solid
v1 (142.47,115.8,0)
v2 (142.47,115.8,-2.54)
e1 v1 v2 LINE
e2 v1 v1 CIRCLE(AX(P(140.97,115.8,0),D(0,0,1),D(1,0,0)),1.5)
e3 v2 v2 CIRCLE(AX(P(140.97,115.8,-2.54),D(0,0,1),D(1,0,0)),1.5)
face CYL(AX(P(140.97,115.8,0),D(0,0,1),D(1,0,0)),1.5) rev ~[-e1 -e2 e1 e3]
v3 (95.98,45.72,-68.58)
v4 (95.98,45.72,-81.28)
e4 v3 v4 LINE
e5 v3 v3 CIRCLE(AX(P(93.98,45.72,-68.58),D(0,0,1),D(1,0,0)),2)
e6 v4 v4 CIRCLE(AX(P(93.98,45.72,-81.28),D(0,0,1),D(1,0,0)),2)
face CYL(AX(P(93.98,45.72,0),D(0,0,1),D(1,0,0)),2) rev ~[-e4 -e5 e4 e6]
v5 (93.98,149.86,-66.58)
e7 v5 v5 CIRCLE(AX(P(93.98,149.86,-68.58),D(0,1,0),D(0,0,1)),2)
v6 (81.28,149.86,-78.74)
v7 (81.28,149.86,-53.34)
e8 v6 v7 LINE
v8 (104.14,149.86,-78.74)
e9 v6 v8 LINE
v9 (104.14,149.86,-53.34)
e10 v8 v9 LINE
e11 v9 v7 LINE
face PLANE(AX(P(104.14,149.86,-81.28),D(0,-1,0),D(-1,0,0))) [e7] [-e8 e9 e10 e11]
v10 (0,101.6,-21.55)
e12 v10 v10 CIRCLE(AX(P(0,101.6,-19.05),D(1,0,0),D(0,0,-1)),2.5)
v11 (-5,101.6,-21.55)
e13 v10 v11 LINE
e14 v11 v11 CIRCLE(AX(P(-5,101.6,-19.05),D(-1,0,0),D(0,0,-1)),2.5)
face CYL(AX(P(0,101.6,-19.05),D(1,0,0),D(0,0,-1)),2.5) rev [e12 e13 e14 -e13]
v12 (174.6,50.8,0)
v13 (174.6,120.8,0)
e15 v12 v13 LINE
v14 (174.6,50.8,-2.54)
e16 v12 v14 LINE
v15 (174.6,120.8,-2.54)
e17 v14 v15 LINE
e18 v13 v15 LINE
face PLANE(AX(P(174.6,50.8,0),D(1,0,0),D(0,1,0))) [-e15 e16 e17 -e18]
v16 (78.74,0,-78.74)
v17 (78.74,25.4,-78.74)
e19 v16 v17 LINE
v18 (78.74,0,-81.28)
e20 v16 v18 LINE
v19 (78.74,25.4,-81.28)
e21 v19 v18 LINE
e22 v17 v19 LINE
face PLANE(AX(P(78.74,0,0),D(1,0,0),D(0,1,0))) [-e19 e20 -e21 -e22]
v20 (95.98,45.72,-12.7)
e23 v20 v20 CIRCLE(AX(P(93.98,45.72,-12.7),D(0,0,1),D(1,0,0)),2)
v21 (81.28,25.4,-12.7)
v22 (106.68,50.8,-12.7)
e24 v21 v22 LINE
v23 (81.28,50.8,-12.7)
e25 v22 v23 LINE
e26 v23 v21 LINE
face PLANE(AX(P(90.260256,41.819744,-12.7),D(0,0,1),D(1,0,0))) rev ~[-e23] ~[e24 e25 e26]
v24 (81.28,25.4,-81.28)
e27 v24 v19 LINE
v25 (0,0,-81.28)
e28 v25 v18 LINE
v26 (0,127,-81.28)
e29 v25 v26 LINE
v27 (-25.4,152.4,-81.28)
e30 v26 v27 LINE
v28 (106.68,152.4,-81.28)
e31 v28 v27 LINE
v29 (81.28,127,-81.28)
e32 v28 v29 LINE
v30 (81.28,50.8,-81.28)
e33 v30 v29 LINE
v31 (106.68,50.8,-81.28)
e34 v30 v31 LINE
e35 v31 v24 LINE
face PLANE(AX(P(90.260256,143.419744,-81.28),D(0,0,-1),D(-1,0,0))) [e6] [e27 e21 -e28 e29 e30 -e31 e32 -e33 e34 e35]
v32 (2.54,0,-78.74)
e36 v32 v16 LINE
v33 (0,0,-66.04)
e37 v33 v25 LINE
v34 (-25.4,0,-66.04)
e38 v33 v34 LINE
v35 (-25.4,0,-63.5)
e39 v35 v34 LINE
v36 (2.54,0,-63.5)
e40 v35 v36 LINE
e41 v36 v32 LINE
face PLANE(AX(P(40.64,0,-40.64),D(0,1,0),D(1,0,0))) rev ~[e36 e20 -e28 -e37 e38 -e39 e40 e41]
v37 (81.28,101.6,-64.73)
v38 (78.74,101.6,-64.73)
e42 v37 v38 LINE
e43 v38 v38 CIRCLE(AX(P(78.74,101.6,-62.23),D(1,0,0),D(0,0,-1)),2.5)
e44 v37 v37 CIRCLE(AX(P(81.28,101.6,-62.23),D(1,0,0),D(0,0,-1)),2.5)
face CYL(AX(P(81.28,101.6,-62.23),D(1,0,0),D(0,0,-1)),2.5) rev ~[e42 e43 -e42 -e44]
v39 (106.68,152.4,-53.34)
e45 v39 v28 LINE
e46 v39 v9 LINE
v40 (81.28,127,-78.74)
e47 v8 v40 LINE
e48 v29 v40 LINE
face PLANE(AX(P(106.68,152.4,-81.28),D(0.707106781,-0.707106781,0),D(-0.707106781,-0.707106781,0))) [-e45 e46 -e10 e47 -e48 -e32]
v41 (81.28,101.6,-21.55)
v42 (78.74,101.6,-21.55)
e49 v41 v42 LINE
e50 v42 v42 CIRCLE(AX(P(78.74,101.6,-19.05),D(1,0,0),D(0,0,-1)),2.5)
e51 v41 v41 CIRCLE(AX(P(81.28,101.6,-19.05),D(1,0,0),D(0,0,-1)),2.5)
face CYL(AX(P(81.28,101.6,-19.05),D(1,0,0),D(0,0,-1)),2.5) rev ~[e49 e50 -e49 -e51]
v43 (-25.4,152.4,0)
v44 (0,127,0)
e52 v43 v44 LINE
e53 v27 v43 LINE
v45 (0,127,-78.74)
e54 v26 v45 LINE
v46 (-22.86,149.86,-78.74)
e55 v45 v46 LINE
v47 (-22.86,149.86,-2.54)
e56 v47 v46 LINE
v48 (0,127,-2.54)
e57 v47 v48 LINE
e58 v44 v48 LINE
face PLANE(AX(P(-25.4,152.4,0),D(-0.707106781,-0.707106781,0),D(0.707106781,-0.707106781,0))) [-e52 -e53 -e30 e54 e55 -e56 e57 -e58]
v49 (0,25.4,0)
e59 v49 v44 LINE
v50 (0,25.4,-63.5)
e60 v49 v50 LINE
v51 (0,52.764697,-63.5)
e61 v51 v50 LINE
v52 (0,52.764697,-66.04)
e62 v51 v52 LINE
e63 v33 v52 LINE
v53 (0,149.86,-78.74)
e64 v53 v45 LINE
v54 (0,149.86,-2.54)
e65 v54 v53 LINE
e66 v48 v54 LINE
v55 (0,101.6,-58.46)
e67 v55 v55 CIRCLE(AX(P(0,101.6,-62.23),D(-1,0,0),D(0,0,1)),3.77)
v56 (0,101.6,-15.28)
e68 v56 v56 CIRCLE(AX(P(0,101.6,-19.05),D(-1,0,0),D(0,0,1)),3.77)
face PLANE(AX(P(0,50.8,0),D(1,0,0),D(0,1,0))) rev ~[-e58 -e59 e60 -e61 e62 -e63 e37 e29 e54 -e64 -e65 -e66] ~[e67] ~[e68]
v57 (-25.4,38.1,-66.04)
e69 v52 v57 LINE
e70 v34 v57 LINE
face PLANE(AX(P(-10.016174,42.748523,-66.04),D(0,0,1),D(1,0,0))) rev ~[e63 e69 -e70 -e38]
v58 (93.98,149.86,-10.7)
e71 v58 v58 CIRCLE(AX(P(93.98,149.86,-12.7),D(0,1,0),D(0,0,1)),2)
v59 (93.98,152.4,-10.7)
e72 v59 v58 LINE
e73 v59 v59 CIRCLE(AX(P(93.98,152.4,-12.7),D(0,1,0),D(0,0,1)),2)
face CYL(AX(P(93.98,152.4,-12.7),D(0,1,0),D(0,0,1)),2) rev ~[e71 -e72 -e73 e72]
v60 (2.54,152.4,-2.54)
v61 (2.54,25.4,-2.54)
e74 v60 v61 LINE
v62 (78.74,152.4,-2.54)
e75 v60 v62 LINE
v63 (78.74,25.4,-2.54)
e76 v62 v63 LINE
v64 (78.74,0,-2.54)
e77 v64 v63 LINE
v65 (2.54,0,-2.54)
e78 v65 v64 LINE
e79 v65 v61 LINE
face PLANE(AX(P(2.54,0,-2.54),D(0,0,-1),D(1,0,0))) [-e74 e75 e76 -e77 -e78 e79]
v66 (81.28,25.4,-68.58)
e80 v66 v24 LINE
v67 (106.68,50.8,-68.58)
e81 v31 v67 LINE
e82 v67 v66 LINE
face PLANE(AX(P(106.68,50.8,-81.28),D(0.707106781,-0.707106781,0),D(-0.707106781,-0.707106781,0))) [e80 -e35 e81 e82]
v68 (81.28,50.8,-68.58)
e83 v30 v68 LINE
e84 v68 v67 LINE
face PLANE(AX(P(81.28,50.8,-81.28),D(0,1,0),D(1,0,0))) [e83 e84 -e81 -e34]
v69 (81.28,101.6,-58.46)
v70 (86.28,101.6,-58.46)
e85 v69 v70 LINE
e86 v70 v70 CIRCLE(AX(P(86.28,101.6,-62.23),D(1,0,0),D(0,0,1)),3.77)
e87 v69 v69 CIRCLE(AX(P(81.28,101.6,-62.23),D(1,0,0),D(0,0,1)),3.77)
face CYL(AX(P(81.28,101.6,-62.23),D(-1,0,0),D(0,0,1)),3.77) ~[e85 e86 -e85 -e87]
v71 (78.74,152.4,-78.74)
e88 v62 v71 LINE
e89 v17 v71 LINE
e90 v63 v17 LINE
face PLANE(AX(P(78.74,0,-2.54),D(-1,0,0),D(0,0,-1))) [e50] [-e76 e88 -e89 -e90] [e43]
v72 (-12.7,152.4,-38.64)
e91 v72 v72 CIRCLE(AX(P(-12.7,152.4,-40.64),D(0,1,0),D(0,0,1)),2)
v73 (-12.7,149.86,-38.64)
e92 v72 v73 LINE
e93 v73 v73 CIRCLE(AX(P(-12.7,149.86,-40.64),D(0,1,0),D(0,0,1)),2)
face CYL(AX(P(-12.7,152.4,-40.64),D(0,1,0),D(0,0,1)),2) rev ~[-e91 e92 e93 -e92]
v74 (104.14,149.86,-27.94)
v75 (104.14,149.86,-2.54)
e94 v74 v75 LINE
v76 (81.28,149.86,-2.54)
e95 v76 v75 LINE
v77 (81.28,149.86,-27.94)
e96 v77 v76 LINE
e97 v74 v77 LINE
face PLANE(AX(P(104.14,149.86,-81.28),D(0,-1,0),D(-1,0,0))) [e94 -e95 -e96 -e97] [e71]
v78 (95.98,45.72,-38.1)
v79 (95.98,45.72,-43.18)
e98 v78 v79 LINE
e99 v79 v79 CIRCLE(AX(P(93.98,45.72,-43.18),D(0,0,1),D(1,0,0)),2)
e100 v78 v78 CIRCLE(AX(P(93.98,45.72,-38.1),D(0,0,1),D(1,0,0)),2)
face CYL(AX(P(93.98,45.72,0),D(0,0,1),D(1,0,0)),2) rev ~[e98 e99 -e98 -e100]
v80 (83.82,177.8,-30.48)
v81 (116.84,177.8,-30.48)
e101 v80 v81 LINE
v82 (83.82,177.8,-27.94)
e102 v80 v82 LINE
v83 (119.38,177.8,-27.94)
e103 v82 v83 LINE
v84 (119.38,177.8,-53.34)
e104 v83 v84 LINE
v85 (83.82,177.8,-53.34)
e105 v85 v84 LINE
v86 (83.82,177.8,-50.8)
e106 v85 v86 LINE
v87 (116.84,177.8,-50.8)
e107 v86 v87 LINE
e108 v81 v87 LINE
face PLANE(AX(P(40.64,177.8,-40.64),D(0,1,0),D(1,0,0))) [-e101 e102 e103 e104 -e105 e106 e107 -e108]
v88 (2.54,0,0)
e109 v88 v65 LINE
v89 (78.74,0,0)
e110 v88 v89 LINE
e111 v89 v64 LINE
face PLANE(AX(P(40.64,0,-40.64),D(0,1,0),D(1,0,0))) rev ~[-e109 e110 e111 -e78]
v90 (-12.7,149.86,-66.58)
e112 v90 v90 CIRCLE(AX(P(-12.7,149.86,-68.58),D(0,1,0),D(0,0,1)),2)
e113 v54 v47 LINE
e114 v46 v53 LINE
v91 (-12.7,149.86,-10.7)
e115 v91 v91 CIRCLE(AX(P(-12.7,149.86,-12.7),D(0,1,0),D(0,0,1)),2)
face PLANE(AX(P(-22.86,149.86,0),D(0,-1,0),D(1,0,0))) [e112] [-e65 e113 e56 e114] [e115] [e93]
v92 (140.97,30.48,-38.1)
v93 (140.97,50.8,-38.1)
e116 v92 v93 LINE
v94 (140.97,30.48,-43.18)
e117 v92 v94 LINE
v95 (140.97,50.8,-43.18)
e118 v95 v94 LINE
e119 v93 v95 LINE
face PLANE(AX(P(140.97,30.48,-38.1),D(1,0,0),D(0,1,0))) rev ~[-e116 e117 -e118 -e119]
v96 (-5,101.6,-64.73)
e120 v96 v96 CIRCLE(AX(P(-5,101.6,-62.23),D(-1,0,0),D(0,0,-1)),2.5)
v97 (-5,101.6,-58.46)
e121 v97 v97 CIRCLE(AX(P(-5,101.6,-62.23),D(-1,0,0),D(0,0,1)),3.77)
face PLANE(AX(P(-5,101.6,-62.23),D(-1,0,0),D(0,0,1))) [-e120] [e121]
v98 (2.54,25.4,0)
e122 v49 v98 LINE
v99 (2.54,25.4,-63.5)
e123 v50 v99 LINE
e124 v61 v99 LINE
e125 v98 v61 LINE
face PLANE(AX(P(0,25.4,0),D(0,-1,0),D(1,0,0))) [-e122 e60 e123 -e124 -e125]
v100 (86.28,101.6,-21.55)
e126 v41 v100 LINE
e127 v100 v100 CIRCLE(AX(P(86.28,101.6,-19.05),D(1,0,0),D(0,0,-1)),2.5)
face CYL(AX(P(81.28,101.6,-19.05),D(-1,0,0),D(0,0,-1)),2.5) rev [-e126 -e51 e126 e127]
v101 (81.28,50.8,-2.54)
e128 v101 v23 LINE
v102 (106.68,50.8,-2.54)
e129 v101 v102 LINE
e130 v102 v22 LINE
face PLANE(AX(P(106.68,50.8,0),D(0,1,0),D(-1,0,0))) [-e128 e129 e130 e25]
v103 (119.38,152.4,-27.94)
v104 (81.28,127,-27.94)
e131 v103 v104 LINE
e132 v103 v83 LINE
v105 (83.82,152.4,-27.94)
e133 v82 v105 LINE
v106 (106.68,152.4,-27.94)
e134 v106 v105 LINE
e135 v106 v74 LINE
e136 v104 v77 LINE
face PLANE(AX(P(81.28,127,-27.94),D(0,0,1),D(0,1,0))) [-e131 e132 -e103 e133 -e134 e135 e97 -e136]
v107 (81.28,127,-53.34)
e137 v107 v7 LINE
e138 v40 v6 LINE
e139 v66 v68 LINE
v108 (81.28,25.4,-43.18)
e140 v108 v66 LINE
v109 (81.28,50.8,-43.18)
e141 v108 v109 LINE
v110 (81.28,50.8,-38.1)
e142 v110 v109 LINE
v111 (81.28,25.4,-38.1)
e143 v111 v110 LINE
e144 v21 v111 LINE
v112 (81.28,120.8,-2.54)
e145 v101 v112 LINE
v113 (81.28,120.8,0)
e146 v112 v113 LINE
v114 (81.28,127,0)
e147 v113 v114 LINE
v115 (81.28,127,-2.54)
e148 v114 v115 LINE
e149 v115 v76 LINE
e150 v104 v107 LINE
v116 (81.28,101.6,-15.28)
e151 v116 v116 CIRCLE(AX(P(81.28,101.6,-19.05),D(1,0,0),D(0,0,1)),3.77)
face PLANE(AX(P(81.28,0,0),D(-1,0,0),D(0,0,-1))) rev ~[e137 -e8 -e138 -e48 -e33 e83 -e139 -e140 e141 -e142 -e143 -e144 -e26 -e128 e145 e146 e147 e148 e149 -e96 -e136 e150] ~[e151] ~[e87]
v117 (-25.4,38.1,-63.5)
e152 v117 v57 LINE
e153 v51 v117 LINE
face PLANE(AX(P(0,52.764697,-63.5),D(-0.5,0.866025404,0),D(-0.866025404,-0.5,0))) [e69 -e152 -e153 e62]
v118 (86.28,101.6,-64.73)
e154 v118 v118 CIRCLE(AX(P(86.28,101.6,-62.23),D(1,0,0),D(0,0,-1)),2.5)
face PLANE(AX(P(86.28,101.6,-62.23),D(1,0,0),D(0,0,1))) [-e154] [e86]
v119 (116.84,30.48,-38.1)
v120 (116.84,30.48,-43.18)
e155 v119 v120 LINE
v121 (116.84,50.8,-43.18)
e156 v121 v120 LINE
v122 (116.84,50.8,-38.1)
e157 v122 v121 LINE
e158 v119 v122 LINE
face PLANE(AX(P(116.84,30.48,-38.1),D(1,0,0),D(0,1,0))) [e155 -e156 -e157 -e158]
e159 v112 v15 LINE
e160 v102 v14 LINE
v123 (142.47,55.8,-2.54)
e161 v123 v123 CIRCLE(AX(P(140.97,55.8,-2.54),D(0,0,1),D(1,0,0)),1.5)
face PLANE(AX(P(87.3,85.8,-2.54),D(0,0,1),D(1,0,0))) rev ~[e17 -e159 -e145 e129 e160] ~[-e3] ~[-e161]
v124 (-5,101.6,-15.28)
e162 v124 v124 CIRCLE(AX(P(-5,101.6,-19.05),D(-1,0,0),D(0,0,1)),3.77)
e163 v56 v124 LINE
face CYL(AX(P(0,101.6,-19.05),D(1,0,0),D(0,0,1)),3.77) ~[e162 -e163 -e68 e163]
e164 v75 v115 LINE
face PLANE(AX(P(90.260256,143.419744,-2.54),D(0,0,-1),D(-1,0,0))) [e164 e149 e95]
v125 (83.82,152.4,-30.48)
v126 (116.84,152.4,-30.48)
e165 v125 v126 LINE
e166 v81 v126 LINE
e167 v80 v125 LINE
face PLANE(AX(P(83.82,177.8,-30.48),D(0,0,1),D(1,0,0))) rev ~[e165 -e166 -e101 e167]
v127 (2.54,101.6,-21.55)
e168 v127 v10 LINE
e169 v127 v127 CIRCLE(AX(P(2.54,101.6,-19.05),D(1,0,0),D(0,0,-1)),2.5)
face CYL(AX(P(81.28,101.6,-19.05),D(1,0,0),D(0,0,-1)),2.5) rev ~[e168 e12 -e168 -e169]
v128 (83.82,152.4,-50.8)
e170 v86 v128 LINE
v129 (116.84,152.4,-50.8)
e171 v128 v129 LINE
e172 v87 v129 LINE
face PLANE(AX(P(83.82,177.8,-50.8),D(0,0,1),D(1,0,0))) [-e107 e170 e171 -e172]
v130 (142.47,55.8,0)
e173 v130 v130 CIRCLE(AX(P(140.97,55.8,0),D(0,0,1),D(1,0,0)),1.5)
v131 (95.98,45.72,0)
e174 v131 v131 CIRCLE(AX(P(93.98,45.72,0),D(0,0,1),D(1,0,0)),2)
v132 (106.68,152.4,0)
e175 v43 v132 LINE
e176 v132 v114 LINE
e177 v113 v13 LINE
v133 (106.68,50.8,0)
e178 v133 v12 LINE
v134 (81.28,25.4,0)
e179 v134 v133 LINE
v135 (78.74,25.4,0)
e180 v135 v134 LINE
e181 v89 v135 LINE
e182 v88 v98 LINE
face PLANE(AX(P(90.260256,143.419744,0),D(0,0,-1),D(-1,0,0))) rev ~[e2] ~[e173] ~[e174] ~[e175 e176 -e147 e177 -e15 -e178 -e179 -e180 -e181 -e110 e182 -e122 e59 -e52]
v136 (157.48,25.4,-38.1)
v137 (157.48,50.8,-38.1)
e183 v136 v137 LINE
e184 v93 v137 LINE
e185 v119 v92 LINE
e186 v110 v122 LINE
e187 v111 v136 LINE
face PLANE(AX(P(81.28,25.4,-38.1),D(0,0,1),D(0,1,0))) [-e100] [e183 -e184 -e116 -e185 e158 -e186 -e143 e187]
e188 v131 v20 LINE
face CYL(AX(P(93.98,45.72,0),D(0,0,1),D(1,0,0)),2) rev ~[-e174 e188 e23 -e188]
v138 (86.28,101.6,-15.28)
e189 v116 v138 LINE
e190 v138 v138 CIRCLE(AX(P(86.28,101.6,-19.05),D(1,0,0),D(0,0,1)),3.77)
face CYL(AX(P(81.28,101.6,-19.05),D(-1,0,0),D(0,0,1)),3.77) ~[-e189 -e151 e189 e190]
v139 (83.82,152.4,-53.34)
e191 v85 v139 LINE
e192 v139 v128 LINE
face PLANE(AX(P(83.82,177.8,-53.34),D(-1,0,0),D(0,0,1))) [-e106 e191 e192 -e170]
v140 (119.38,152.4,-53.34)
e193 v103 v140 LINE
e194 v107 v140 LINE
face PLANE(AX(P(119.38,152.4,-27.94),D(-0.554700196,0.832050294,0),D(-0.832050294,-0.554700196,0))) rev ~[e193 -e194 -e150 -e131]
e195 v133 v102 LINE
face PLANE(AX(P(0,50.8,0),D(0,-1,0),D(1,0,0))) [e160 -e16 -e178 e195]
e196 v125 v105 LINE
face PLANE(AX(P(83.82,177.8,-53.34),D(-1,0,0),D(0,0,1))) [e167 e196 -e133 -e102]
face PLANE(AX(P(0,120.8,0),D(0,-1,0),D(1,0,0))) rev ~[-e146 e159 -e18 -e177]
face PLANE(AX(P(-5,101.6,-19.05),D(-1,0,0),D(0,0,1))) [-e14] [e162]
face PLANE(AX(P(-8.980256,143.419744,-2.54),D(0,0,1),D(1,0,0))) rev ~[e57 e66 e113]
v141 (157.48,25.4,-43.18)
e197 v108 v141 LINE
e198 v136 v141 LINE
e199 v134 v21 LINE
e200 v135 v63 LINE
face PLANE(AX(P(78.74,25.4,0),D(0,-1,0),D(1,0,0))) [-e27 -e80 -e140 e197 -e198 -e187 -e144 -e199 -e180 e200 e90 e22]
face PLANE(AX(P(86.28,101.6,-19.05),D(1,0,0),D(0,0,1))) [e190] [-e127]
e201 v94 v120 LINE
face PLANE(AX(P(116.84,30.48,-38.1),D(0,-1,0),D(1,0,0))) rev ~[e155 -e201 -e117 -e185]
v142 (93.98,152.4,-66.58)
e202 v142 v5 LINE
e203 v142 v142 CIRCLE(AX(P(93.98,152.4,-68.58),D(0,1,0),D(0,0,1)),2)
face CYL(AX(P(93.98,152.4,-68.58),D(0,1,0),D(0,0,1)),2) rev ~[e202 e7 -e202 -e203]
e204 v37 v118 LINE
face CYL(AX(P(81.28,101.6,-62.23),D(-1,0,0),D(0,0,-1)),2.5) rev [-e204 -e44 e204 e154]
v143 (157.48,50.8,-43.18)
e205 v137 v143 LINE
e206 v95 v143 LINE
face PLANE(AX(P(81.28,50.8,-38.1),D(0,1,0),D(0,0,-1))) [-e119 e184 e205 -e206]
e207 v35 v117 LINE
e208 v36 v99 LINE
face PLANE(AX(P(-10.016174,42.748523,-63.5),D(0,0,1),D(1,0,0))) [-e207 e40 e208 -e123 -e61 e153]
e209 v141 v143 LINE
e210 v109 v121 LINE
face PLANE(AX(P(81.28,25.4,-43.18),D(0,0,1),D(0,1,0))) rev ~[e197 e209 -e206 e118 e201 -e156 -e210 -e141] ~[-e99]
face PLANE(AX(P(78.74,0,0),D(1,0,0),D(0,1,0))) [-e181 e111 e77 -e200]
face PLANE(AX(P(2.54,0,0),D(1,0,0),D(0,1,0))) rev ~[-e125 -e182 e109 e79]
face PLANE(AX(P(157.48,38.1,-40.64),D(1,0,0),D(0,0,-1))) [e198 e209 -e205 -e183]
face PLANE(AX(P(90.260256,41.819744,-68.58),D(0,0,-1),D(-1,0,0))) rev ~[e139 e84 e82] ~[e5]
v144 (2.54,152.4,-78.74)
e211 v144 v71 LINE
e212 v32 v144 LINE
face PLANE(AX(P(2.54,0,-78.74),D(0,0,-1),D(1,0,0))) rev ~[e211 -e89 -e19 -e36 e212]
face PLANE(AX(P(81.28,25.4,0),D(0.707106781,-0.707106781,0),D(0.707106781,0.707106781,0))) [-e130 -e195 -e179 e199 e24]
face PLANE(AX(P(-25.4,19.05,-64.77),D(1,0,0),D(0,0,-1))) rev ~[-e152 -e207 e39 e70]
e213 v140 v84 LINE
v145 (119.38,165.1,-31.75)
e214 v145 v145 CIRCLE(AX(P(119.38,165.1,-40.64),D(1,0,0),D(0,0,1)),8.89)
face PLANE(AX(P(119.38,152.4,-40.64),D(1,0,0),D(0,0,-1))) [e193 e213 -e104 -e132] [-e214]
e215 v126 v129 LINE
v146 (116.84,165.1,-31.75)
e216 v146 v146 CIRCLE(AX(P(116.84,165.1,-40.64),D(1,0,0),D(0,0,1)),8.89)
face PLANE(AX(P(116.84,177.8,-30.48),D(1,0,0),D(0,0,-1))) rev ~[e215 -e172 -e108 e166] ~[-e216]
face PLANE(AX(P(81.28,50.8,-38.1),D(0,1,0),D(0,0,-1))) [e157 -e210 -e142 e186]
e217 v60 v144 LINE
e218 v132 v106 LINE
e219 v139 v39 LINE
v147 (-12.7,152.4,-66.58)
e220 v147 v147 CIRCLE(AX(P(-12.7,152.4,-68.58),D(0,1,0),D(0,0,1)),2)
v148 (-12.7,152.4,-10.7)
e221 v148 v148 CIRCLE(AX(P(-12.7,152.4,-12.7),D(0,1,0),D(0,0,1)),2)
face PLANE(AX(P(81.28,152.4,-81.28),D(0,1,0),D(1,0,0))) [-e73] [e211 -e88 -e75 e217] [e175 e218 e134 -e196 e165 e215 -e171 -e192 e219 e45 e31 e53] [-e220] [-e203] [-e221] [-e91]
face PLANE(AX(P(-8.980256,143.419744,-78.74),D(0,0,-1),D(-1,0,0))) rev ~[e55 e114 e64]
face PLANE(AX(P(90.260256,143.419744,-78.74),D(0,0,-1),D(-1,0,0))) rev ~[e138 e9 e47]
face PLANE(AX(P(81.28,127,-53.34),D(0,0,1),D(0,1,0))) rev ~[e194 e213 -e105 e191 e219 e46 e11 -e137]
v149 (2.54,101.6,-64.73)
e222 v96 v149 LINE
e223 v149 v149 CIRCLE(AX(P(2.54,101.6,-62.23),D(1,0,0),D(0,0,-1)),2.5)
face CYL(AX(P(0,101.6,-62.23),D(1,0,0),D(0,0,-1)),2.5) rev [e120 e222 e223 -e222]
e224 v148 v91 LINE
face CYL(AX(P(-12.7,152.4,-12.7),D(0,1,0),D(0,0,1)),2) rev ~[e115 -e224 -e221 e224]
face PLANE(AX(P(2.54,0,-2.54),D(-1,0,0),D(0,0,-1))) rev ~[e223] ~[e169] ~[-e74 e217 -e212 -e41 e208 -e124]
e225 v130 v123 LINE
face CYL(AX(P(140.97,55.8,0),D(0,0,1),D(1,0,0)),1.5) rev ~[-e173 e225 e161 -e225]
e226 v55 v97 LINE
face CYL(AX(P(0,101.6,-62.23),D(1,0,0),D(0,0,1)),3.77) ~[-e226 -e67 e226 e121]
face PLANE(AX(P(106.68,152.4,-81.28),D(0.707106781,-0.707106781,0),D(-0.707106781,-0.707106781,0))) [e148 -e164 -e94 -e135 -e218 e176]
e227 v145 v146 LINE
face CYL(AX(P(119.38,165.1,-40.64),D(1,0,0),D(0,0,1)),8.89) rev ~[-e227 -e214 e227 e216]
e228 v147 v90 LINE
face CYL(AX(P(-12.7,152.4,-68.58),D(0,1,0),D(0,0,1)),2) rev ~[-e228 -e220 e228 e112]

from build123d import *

# Parameters (mm, degrees)
SKETCH1_W            = 81.28
SKETCH1_H            = 81.28
SKETCH1_W_2          = 76.2
SKETCH1_H_2          = 76.2
BOSS_EXTRUDE1_DEPTH  = 177.8
SKETCH2_W            = 2.54
SKETCH2_H            = 38.1
BOSS_EXTRUDE2_DEPTH  = 25.4
SKETCH3_W            = 2.54
SKETCH3_H            = 25.4
CUT_EXTRUDE1_DEPTH   = 212.720846399
BOSS_EXTRUDE3_DEPTH  = 12.7
BOSS_EXTRUDE4_DEPTH  = 12.7
SKETCH14_W           = 5.08
SKETCH14_H           = 25.4
BOSS_EXTRUDE6_DEPTH  = 76.2
CUT_EXTRUDE2_REACH   = 243.407
SKETCH16_W           = 24.13
SKETCH16_H           = 20.32
SKETCH22_R           = 2
CUT_EXTRUDE6_DEPTH   = 252.036309724
SKETCH28_W           = 25.4
SKETCH28_H           = 50.8
BOSS_EXTRUDE7_DEPTH  = 38.1
CUT_EXTRUDE8_REACH   = 245.43
SKETCH32_W           = 33.02
SKETCH32_H           = 20.32
CUT_EXTRUDE9_DEPTH   = 25.4
CUT_EXTRUDE13_REACH  = 245.27
SKETCH34_R           = 8.89
BOSS_EXTRUDE9_DEPTH  = 2.54
SKETCH38_W           = 2.54
SKETCH38_H           = 25.4
CUT_EXTRUDE15_DEPTH  = 63.5
CUT_EXTRUDE17_REACH  = 224.71
SKETCH40_R           = 2.5
SKETCH41_R           = 3.77
SKETCH41_R_2         = 2.5
BOSS_EXTRUDE10_DEPTH = 5
SKETCH42_R           = 3.77
SKETCH42_R_2         = 2.5
BOSS_EXTRUDE11_DEPTH = 5
SKETCH43_W           = 76.2
SKETCH43_H           = 76.2
CUT_EXTRUDE20_DEPTH  = 25.4
SKETCH44_W           = 174.6
SKETCH44_H           = 70
SKETCH44_R           = 1.5
BOSS_EXTRUDE12_DEPTH = 2.54
BOSS_EXTRUDE13_DEPTH = 2.54
BOSS_EXTRUDE14_DEPTH = 2.54
BOSS_EXTRUDE15_REACH = 264.115
BOSS_EXTRUDE16_DEPTH = 2.54
BOSS_EXTRUDE17_DEPTH = 2.54
BOSS_EXTRUDE18_REACH = 264.115
SKETCH51_R           = 2
CUT_EXTRUDE21_DEPTH  = 2.54


with BuildPart() as part:
    # Sketch1 → Boss-Extrude1 (new body)
    with BuildSketch(Plane(origin=(0, 0, 0), x_dir=(1, 0, 0), z_dir=(0, 1, 0))):
        with Locations((40.64, 40.64)):
            Rectangle(SKETCH1_W, SKETCH1_H)
        with Locations((40.64, 40.64)):
            Rectangle(SKETCH1_W_2, SKETCH1_H_2, mode=Mode.SUBTRACT)
    extrude(amount=BOSS_EXTRUDE1_DEPTH)

    # Sketch2 → Boss-Extrude2 (add)
    with BuildSketch(Plane(origin=(0, 0, 0), x_dir=(0, 0, -1), z_dir=(1, 0, 0))):
        with Locations((64.77, 19.05)):
            Rectangle(SKETCH2_W, SKETCH2_H)
    extrude(amount=-BOSS_EXTRUDE2_DEPTH)

    # Sketch3 → Cut-Extrude1 (cut, through all)
    with BuildSketch(Plane.XY):
        with Locations((80.01, 12.7)):
            Rectangle(SKETCH3_W, SKETCH3_H)
    extrude(amount=-CUT_EXTRUDE1_DEPTH, mode=Mode.SUBTRACT)

    # Sketch7 → Boss-Extrude3 (add)
    with BuildSketch(Plane.XY):
        Polygon((81.28, 25.4), (106.68, 50.8), (81.28, 50.8), align=None)
    extrude(amount=-BOSS_EXTRUDE3_DEPTH)

    # Sketch10 → Boss-Extrude4 (add)
    with BuildSketch(Plane(origin=(0, 0, -81.28), x_dir=(-1, 0, 0), z_dir=(0, 0, -1))):
        Polygon((-81.28, 25.4), (-81.28, 50.8), (-106.68, 50.8), align=None)
    extrude(amount=-BOSS_EXTRUDE4_DEPTH)

    # Sketch14 → Boss-Extrude6 (add)
    with BuildSketch(Plane(origin=(81.28, 0, 0), x_dir=(0, 0, -1), z_dir=(1, 0, 0))):
        with Locations((40.64, 38.1)):
            Rectangle(SKETCH14_W, SKETCH14_H)
    extrude(amount=BOSS_EXTRUDE6_DEPTH)

    # Sketch16 → Cut-Extrude2 (cut, up to next)
    with BuildSketch(Plane.XY.offset(-38.1), mode=Mode.PRIVATE) as cut_extrude2_sk1:
        with Locations((128.905, 40.64)):
            Rectangle(SKETCH16_W, SKETCH16_H)
    cut_extrude2_tool1 = extrude(cut_extrude2_sk1.sketch, amount=-CUT_EXTRUDE2_REACH, mode=Mode.PRIVATE) & part.part
    add(cut_extrude2_tool1.solids().sort_by_distance((128.905, 40.64, -38.1))[0], mode=Mode.SUBTRACT)

    # Sketch22 → Cut-Extrude6 (cut, through all)
    with BuildSketch(Plane.XY):
        with Locations((93.98, 45.72)):
            Circle(SKETCH22_R)
    extrude(amount=-CUT_EXTRUDE6_DEPTH, mode=Mode.SUBTRACT)

    # Sketch28 → Boss-Extrude7 (add)
    with BuildSketch(Plane(origin=(81.28, 0, 0), x_dir=(0, 0, -1), z_dir=(1, 0, 0))):
        with Locations((40.64, 152.4)):
            Rectangle(SKETCH28_W, SKETCH28_H)
    extrude(amount=BOSS_EXTRUDE7_DEPTH)

    # Sketch30 → Cut-Extrude8 (cut, up to next)
    with BuildSketch(Plane.XY.offset(-27.94), mode=Mode.PRIVATE) as cut_extrude8_sk1:
        Polygon((81.28, 127), (119.38, 127), (119.38, 152.4), align=None)
    cut_extrude8_tool1 = extrude(cut_extrude8_sk1.sketch, amount=-CUT_EXTRUDE8_REACH, mode=Mode.PRIVATE) & part.part
    add(cut_extrude8_tool1.solids().sort_by_distance((106.68, 135.466667, -27.94))[0], mode=Mode.SUBTRACT)

    # Sketch32 → Cut-Extrude9 (cut)
    with BuildSketch(Plane(origin=(0, 177.8, 0), x_dir=(1, 0, 0), z_dir=(0, 1, 0))):
        with Locations((100.33, 40.64)):
            Rectangle(SKETCH32_W, SKETCH32_H)
    extrude(amount=-CUT_EXTRUDE9_DEPTH, mode=Mode.SUBTRACT)

    # Cut-Extrude13: up to this face of the body (flat: up to its plane)
    cut_extrude13_end = Plane(part.part.faces().sort_by_distance((78.74, 101.6, -40.64))[0])
    # Sketch34 → Cut-Extrude13 (cut, up to the picked face)
    with BuildSketch(Plane(origin=(119.38, 0, 0), x_dir=(0, 0, -1), z_dir=(1, 0, 0)), mode=Mode.PRIVATE) as cut_extrude13_sk1:
        with Locations(Location((40.64, 165.1, 0), (0, 0, 180))):
            Circle(SKETCH34_R)
    cut_extrude13_tool1 = split(extrude(cut_extrude13_sk1.sketch, amount=-CUT_EXTRUDE13_REACH, mode=Mode.PRIVATE), bisect_by=cut_extrude13_end, keep=Keep.BOTH, mode=Mode.PRIVATE)
    add(cut_extrude13_tool1.solids().sort_by(Axis((119.38, 165.1, -40.64), (-1, 0, 0)))[0], mode=Mode.SUBTRACT)

    # Sketch37 → Boss-Extrude9 (add)
    with BuildSketch(Plane.XY.offset(-63.5)):
        Polygon((-25.4, 38.1), (0, 38.1), (0, 52.764696837), align=None)
    extrude(amount=-BOSS_EXTRUDE9_DEPTH)

    # Sketch38 → Cut-Extrude15 (cut)
    with BuildSketch(Plane.XY):
        with Locations((1.27, 12.7)):
            Rectangle(SKETCH38_W, SKETCH38_H)
    extrude(amount=-CUT_EXTRUDE15_DEPTH, mode=Mode.SUBTRACT)

    # Cut-Extrude17: up to this face of the body (flat: up to its plane)
    cut_extrude17_end = Plane(part.part.faces().sort_by_distance((0, 99.23335202, -41.514066738))[0])
    # Sketch40 → Cut-Extrude17 (cut, up to the picked face)
    with BuildSketch(Plane(origin=(81.28, 0, 0), x_dir=(0, 0, -1), z_dir=(1, 0, 0)), mode=Mode.PRIVATE) as cut_extrude17_sk1:
        with Locations((19.05, 101.6)):
            Circle(SKETCH40_R)
    cut_extrude17_tool1 = split(extrude(cut_extrude17_sk1.sketch, amount=-CUT_EXTRUDE17_REACH, mode=Mode.PRIVATE), bisect_by=cut_extrude17_end, keep=Keep.BOTH, mode=Mode.PRIVATE)
    # Sketch40 → Cut-Extrude17 (cut, up to the picked face)
    with BuildSketch(Plane(origin=(81.28, 0, 0), x_dir=(0, 0, -1), z_dir=(1, 0, 0)), mode=Mode.PRIVATE) as cut_extrude17_sk2:
        with Locations((62.23, 101.6)):
            Circle(SKETCH40_R)
    cut_extrude17_tool2 = split(extrude(cut_extrude17_sk2.sketch, amount=-CUT_EXTRUDE17_REACH, mode=Mode.PRIVATE), bisect_by=cut_extrude17_end, keep=Keep.BOTH, mode=Mode.PRIVATE)
    add(cut_extrude17_tool1.solids().sort_by(Axis((81.28, 101.6, -19.05), (-1, 0, 0)))[0], mode=Mode.SUBTRACT)
    add(cut_extrude17_tool2.solids().sort_by(Axis((81.28, 101.6, -62.23), (-1, 0, 0)))[0], mode=Mode.SUBTRACT)

    # Sketch41 → Boss-Extrude10 (add)
    with BuildSketch(Plane(origin=(81.28, 0, 0), x_dir=(0, 0, -1), z_dir=(1, 0, 0))):
        with Locations(Location((19.05, 101.6, 0), (0, 0, 180))):
            Circle(SKETCH41_R)
        with Locations((19.05, 101.6)):
            Circle(SKETCH41_R_2, mode=Mode.SUBTRACT)
        with Locations(Location((62.23, 101.6, 0), (0, 0, 180))):
            Circle(SKETCH41_R)
        with Locations((62.23, 101.6)):
            Circle(SKETCH41_R_2, mode=Mode.SUBTRACT)
    extrude(amount=BOSS_EXTRUDE10_DEPTH)

    # Sketch42 → Boss-Extrude11 (add)
    with BuildSketch(Plane.ZY):
        with Locations((-62.23, 101.6)):
            Circle(SKETCH42_R)
        with Locations(Location((-62.23, 101.6, 0), (0, 0, 180))):
            Circle(SKETCH42_R_2, mode=Mode.SUBTRACT)
        with Locations((-19.05, 101.6)):
            Circle(SKETCH42_R)
        with Locations(Location((-19.05, 101.6, 0), (0, 0, 180))):
            Circle(SKETCH42_R_2, mode=Mode.SUBTRACT)
    extrude(amount=BOSS_EXTRUDE11_DEPTH)

    # Sketch43 → Cut-Extrude20 (cut)
    with BuildSketch(Plane(origin=(0, 177.8, 0), x_dir=(1, 0, 0), z_dir=(0, 1, 0))):
        Polygon((83.82, 53.34), (83.82, 27.94), (81.28, 27.94), (81.28, 0), (0, 0), (0, 81.28), (81.28, 81.28), (81.28, 53.34), align=None)
        with Locations((40.64, 40.64)):
            Rectangle(SKETCH43_W, SKETCH43_H, mode=Mode.SUBTRACT)
    extrude(amount=-CUT_EXTRUDE20_DEPTH, mode=Mode.SUBTRACT)

    # Sketch44 → Boss-Extrude12 (add)
    with BuildSketch(Plane.XY):
        with Locations((87.3, 85.8)):
            Rectangle(SKETCH44_W, SKETCH44_H)
        with Locations((140.97, 115.8)):
            Circle(SKETCH44_R, mode=Mode.SUBTRACT)
        with Locations((140.97, 55.8)):
            Circle(SKETCH44_R, mode=Mode.SUBTRACT)
    extrude(amount=-BOSS_EXTRUDE12_DEPTH)

    # Sketch45 → Boss-Extrude13 (add)
    with BuildSketch(Plane.XY):
        Polygon((0, 152.4), (-25.4, 152.4), (0, 127), align=None)
    extrude(amount=-BOSS_EXTRUDE13_DEPTH)

    # Sketch46 → Boss-Extrude14 (add)
    with BuildSketch(Plane(origin=(0, 0, -81.28), x_dir=(-1, 0, 0), z_dir=(0, 0, -1))):
        Polygon((0, 152.4), (0, 127), (25.4, 152.4), align=None)
    extrude(amount=-BOSS_EXTRUDE14_DEPTH)

    # Sketch47 → Boss-Extrude15 (add, up to next)
    with BuildSketch(Plane.XY, mode=Mode.PRIVATE) as boss_extrude15_sk1:
        Polygon((0, 152.4), (-25.4, 152.4), (-22.86, 149.86), (0, 149.86), align=None)
    boss_extrude15_tool1 = extrude(boss_extrude15_sk1.sketch, amount=-BOSS_EXTRUDE15_REACH, mode=Mode.PRIVATE) - part.part
    add(boss_extrude15_tool1.solids().sort_by_distance((-12.07614, 151.152281, 0))[0])

    # Sketch48 → Boss-Extrude16 (add)
    with BuildSketch(Plane.XY):
        Polygon((81.28, 152.4), (106.68, 152.4), (81.28, 127), align=None)
    extrude(amount=-BOSS_EXTRUDE16_DEPTH)

    # Sketch49 → Boss-Extrude17 (add)
    with BuildSketch(Plane(origin=(0, 0, -81.28), x_dir=(-1, 0, 0), z_dir=(0, 0, -1))):
        Polygon((-81.28, 152.4), (-106.68, 152.4), (-81.28, 127), align=None)
    extrude(amount=-BOSS_EXTRUDE17_DEPTH)

    # Sketch50 → Boss-Extrude18 (add, up to next)
    with BuildSketch(Plane(origin=(0, 0, -81.28), x_dir=(-1, 0, 0), z_dir=(0, 0, -1)), mode=Mode.PRIVATE) as boss_extrude18_sk1:
        Polygon((-81.28, 152.4), (-106.68, 152.4), (-104.14, 149.86), (-81.28, 149.86), align=None)
    boss_extrude18_tool1 = extrude(boss_extrude18_sk1.sketch, amount=-BOSS_EXTRUDE18_REACH, mode=Mode.PRIVATE) - part.part
    add(boss_extrude18_tool1.solids().sort_by_distance((93.35614, 151.152281, -81.28))[0])
    add(boss_extrude18_tool1.solids().sort_by_distance((93.35614, 151.152281, -81.28))[1])

    # Sketch51 → Cut-Extrude21 (cut)
    with BuildSketch(Plane(origin=(0, 152.4, 0), x_dir=(1, 0, 0), z_dir=(0, 1, 0))):
        with Locations(Location((-12.7, 68.58, 0), (0, 0, 270))):
            Circle(SKETCH51_R)
        with Locations(Location((-12.7, 40.64, 0), (0, 0, 270))):
            Circle(SKETCH51_R)
        with Locations(Location((-12.7, 12.7, 0), (0, 0, 270))):
            Circle(SKETCH51_R)
        with Locations(Location((93.98, 68.58, 0), (0, 0, 270))):
            Circle(SKETCH51_R)
        with Locations(Location((93.98, 12.7, 0), (0, 0, 270))):
            Circle(SKETCH51_R)
    extrude(amount=-CUT_EXTRUDE21_DEPTH, mode=Mode.SUBTRACT)


solid = part.part
